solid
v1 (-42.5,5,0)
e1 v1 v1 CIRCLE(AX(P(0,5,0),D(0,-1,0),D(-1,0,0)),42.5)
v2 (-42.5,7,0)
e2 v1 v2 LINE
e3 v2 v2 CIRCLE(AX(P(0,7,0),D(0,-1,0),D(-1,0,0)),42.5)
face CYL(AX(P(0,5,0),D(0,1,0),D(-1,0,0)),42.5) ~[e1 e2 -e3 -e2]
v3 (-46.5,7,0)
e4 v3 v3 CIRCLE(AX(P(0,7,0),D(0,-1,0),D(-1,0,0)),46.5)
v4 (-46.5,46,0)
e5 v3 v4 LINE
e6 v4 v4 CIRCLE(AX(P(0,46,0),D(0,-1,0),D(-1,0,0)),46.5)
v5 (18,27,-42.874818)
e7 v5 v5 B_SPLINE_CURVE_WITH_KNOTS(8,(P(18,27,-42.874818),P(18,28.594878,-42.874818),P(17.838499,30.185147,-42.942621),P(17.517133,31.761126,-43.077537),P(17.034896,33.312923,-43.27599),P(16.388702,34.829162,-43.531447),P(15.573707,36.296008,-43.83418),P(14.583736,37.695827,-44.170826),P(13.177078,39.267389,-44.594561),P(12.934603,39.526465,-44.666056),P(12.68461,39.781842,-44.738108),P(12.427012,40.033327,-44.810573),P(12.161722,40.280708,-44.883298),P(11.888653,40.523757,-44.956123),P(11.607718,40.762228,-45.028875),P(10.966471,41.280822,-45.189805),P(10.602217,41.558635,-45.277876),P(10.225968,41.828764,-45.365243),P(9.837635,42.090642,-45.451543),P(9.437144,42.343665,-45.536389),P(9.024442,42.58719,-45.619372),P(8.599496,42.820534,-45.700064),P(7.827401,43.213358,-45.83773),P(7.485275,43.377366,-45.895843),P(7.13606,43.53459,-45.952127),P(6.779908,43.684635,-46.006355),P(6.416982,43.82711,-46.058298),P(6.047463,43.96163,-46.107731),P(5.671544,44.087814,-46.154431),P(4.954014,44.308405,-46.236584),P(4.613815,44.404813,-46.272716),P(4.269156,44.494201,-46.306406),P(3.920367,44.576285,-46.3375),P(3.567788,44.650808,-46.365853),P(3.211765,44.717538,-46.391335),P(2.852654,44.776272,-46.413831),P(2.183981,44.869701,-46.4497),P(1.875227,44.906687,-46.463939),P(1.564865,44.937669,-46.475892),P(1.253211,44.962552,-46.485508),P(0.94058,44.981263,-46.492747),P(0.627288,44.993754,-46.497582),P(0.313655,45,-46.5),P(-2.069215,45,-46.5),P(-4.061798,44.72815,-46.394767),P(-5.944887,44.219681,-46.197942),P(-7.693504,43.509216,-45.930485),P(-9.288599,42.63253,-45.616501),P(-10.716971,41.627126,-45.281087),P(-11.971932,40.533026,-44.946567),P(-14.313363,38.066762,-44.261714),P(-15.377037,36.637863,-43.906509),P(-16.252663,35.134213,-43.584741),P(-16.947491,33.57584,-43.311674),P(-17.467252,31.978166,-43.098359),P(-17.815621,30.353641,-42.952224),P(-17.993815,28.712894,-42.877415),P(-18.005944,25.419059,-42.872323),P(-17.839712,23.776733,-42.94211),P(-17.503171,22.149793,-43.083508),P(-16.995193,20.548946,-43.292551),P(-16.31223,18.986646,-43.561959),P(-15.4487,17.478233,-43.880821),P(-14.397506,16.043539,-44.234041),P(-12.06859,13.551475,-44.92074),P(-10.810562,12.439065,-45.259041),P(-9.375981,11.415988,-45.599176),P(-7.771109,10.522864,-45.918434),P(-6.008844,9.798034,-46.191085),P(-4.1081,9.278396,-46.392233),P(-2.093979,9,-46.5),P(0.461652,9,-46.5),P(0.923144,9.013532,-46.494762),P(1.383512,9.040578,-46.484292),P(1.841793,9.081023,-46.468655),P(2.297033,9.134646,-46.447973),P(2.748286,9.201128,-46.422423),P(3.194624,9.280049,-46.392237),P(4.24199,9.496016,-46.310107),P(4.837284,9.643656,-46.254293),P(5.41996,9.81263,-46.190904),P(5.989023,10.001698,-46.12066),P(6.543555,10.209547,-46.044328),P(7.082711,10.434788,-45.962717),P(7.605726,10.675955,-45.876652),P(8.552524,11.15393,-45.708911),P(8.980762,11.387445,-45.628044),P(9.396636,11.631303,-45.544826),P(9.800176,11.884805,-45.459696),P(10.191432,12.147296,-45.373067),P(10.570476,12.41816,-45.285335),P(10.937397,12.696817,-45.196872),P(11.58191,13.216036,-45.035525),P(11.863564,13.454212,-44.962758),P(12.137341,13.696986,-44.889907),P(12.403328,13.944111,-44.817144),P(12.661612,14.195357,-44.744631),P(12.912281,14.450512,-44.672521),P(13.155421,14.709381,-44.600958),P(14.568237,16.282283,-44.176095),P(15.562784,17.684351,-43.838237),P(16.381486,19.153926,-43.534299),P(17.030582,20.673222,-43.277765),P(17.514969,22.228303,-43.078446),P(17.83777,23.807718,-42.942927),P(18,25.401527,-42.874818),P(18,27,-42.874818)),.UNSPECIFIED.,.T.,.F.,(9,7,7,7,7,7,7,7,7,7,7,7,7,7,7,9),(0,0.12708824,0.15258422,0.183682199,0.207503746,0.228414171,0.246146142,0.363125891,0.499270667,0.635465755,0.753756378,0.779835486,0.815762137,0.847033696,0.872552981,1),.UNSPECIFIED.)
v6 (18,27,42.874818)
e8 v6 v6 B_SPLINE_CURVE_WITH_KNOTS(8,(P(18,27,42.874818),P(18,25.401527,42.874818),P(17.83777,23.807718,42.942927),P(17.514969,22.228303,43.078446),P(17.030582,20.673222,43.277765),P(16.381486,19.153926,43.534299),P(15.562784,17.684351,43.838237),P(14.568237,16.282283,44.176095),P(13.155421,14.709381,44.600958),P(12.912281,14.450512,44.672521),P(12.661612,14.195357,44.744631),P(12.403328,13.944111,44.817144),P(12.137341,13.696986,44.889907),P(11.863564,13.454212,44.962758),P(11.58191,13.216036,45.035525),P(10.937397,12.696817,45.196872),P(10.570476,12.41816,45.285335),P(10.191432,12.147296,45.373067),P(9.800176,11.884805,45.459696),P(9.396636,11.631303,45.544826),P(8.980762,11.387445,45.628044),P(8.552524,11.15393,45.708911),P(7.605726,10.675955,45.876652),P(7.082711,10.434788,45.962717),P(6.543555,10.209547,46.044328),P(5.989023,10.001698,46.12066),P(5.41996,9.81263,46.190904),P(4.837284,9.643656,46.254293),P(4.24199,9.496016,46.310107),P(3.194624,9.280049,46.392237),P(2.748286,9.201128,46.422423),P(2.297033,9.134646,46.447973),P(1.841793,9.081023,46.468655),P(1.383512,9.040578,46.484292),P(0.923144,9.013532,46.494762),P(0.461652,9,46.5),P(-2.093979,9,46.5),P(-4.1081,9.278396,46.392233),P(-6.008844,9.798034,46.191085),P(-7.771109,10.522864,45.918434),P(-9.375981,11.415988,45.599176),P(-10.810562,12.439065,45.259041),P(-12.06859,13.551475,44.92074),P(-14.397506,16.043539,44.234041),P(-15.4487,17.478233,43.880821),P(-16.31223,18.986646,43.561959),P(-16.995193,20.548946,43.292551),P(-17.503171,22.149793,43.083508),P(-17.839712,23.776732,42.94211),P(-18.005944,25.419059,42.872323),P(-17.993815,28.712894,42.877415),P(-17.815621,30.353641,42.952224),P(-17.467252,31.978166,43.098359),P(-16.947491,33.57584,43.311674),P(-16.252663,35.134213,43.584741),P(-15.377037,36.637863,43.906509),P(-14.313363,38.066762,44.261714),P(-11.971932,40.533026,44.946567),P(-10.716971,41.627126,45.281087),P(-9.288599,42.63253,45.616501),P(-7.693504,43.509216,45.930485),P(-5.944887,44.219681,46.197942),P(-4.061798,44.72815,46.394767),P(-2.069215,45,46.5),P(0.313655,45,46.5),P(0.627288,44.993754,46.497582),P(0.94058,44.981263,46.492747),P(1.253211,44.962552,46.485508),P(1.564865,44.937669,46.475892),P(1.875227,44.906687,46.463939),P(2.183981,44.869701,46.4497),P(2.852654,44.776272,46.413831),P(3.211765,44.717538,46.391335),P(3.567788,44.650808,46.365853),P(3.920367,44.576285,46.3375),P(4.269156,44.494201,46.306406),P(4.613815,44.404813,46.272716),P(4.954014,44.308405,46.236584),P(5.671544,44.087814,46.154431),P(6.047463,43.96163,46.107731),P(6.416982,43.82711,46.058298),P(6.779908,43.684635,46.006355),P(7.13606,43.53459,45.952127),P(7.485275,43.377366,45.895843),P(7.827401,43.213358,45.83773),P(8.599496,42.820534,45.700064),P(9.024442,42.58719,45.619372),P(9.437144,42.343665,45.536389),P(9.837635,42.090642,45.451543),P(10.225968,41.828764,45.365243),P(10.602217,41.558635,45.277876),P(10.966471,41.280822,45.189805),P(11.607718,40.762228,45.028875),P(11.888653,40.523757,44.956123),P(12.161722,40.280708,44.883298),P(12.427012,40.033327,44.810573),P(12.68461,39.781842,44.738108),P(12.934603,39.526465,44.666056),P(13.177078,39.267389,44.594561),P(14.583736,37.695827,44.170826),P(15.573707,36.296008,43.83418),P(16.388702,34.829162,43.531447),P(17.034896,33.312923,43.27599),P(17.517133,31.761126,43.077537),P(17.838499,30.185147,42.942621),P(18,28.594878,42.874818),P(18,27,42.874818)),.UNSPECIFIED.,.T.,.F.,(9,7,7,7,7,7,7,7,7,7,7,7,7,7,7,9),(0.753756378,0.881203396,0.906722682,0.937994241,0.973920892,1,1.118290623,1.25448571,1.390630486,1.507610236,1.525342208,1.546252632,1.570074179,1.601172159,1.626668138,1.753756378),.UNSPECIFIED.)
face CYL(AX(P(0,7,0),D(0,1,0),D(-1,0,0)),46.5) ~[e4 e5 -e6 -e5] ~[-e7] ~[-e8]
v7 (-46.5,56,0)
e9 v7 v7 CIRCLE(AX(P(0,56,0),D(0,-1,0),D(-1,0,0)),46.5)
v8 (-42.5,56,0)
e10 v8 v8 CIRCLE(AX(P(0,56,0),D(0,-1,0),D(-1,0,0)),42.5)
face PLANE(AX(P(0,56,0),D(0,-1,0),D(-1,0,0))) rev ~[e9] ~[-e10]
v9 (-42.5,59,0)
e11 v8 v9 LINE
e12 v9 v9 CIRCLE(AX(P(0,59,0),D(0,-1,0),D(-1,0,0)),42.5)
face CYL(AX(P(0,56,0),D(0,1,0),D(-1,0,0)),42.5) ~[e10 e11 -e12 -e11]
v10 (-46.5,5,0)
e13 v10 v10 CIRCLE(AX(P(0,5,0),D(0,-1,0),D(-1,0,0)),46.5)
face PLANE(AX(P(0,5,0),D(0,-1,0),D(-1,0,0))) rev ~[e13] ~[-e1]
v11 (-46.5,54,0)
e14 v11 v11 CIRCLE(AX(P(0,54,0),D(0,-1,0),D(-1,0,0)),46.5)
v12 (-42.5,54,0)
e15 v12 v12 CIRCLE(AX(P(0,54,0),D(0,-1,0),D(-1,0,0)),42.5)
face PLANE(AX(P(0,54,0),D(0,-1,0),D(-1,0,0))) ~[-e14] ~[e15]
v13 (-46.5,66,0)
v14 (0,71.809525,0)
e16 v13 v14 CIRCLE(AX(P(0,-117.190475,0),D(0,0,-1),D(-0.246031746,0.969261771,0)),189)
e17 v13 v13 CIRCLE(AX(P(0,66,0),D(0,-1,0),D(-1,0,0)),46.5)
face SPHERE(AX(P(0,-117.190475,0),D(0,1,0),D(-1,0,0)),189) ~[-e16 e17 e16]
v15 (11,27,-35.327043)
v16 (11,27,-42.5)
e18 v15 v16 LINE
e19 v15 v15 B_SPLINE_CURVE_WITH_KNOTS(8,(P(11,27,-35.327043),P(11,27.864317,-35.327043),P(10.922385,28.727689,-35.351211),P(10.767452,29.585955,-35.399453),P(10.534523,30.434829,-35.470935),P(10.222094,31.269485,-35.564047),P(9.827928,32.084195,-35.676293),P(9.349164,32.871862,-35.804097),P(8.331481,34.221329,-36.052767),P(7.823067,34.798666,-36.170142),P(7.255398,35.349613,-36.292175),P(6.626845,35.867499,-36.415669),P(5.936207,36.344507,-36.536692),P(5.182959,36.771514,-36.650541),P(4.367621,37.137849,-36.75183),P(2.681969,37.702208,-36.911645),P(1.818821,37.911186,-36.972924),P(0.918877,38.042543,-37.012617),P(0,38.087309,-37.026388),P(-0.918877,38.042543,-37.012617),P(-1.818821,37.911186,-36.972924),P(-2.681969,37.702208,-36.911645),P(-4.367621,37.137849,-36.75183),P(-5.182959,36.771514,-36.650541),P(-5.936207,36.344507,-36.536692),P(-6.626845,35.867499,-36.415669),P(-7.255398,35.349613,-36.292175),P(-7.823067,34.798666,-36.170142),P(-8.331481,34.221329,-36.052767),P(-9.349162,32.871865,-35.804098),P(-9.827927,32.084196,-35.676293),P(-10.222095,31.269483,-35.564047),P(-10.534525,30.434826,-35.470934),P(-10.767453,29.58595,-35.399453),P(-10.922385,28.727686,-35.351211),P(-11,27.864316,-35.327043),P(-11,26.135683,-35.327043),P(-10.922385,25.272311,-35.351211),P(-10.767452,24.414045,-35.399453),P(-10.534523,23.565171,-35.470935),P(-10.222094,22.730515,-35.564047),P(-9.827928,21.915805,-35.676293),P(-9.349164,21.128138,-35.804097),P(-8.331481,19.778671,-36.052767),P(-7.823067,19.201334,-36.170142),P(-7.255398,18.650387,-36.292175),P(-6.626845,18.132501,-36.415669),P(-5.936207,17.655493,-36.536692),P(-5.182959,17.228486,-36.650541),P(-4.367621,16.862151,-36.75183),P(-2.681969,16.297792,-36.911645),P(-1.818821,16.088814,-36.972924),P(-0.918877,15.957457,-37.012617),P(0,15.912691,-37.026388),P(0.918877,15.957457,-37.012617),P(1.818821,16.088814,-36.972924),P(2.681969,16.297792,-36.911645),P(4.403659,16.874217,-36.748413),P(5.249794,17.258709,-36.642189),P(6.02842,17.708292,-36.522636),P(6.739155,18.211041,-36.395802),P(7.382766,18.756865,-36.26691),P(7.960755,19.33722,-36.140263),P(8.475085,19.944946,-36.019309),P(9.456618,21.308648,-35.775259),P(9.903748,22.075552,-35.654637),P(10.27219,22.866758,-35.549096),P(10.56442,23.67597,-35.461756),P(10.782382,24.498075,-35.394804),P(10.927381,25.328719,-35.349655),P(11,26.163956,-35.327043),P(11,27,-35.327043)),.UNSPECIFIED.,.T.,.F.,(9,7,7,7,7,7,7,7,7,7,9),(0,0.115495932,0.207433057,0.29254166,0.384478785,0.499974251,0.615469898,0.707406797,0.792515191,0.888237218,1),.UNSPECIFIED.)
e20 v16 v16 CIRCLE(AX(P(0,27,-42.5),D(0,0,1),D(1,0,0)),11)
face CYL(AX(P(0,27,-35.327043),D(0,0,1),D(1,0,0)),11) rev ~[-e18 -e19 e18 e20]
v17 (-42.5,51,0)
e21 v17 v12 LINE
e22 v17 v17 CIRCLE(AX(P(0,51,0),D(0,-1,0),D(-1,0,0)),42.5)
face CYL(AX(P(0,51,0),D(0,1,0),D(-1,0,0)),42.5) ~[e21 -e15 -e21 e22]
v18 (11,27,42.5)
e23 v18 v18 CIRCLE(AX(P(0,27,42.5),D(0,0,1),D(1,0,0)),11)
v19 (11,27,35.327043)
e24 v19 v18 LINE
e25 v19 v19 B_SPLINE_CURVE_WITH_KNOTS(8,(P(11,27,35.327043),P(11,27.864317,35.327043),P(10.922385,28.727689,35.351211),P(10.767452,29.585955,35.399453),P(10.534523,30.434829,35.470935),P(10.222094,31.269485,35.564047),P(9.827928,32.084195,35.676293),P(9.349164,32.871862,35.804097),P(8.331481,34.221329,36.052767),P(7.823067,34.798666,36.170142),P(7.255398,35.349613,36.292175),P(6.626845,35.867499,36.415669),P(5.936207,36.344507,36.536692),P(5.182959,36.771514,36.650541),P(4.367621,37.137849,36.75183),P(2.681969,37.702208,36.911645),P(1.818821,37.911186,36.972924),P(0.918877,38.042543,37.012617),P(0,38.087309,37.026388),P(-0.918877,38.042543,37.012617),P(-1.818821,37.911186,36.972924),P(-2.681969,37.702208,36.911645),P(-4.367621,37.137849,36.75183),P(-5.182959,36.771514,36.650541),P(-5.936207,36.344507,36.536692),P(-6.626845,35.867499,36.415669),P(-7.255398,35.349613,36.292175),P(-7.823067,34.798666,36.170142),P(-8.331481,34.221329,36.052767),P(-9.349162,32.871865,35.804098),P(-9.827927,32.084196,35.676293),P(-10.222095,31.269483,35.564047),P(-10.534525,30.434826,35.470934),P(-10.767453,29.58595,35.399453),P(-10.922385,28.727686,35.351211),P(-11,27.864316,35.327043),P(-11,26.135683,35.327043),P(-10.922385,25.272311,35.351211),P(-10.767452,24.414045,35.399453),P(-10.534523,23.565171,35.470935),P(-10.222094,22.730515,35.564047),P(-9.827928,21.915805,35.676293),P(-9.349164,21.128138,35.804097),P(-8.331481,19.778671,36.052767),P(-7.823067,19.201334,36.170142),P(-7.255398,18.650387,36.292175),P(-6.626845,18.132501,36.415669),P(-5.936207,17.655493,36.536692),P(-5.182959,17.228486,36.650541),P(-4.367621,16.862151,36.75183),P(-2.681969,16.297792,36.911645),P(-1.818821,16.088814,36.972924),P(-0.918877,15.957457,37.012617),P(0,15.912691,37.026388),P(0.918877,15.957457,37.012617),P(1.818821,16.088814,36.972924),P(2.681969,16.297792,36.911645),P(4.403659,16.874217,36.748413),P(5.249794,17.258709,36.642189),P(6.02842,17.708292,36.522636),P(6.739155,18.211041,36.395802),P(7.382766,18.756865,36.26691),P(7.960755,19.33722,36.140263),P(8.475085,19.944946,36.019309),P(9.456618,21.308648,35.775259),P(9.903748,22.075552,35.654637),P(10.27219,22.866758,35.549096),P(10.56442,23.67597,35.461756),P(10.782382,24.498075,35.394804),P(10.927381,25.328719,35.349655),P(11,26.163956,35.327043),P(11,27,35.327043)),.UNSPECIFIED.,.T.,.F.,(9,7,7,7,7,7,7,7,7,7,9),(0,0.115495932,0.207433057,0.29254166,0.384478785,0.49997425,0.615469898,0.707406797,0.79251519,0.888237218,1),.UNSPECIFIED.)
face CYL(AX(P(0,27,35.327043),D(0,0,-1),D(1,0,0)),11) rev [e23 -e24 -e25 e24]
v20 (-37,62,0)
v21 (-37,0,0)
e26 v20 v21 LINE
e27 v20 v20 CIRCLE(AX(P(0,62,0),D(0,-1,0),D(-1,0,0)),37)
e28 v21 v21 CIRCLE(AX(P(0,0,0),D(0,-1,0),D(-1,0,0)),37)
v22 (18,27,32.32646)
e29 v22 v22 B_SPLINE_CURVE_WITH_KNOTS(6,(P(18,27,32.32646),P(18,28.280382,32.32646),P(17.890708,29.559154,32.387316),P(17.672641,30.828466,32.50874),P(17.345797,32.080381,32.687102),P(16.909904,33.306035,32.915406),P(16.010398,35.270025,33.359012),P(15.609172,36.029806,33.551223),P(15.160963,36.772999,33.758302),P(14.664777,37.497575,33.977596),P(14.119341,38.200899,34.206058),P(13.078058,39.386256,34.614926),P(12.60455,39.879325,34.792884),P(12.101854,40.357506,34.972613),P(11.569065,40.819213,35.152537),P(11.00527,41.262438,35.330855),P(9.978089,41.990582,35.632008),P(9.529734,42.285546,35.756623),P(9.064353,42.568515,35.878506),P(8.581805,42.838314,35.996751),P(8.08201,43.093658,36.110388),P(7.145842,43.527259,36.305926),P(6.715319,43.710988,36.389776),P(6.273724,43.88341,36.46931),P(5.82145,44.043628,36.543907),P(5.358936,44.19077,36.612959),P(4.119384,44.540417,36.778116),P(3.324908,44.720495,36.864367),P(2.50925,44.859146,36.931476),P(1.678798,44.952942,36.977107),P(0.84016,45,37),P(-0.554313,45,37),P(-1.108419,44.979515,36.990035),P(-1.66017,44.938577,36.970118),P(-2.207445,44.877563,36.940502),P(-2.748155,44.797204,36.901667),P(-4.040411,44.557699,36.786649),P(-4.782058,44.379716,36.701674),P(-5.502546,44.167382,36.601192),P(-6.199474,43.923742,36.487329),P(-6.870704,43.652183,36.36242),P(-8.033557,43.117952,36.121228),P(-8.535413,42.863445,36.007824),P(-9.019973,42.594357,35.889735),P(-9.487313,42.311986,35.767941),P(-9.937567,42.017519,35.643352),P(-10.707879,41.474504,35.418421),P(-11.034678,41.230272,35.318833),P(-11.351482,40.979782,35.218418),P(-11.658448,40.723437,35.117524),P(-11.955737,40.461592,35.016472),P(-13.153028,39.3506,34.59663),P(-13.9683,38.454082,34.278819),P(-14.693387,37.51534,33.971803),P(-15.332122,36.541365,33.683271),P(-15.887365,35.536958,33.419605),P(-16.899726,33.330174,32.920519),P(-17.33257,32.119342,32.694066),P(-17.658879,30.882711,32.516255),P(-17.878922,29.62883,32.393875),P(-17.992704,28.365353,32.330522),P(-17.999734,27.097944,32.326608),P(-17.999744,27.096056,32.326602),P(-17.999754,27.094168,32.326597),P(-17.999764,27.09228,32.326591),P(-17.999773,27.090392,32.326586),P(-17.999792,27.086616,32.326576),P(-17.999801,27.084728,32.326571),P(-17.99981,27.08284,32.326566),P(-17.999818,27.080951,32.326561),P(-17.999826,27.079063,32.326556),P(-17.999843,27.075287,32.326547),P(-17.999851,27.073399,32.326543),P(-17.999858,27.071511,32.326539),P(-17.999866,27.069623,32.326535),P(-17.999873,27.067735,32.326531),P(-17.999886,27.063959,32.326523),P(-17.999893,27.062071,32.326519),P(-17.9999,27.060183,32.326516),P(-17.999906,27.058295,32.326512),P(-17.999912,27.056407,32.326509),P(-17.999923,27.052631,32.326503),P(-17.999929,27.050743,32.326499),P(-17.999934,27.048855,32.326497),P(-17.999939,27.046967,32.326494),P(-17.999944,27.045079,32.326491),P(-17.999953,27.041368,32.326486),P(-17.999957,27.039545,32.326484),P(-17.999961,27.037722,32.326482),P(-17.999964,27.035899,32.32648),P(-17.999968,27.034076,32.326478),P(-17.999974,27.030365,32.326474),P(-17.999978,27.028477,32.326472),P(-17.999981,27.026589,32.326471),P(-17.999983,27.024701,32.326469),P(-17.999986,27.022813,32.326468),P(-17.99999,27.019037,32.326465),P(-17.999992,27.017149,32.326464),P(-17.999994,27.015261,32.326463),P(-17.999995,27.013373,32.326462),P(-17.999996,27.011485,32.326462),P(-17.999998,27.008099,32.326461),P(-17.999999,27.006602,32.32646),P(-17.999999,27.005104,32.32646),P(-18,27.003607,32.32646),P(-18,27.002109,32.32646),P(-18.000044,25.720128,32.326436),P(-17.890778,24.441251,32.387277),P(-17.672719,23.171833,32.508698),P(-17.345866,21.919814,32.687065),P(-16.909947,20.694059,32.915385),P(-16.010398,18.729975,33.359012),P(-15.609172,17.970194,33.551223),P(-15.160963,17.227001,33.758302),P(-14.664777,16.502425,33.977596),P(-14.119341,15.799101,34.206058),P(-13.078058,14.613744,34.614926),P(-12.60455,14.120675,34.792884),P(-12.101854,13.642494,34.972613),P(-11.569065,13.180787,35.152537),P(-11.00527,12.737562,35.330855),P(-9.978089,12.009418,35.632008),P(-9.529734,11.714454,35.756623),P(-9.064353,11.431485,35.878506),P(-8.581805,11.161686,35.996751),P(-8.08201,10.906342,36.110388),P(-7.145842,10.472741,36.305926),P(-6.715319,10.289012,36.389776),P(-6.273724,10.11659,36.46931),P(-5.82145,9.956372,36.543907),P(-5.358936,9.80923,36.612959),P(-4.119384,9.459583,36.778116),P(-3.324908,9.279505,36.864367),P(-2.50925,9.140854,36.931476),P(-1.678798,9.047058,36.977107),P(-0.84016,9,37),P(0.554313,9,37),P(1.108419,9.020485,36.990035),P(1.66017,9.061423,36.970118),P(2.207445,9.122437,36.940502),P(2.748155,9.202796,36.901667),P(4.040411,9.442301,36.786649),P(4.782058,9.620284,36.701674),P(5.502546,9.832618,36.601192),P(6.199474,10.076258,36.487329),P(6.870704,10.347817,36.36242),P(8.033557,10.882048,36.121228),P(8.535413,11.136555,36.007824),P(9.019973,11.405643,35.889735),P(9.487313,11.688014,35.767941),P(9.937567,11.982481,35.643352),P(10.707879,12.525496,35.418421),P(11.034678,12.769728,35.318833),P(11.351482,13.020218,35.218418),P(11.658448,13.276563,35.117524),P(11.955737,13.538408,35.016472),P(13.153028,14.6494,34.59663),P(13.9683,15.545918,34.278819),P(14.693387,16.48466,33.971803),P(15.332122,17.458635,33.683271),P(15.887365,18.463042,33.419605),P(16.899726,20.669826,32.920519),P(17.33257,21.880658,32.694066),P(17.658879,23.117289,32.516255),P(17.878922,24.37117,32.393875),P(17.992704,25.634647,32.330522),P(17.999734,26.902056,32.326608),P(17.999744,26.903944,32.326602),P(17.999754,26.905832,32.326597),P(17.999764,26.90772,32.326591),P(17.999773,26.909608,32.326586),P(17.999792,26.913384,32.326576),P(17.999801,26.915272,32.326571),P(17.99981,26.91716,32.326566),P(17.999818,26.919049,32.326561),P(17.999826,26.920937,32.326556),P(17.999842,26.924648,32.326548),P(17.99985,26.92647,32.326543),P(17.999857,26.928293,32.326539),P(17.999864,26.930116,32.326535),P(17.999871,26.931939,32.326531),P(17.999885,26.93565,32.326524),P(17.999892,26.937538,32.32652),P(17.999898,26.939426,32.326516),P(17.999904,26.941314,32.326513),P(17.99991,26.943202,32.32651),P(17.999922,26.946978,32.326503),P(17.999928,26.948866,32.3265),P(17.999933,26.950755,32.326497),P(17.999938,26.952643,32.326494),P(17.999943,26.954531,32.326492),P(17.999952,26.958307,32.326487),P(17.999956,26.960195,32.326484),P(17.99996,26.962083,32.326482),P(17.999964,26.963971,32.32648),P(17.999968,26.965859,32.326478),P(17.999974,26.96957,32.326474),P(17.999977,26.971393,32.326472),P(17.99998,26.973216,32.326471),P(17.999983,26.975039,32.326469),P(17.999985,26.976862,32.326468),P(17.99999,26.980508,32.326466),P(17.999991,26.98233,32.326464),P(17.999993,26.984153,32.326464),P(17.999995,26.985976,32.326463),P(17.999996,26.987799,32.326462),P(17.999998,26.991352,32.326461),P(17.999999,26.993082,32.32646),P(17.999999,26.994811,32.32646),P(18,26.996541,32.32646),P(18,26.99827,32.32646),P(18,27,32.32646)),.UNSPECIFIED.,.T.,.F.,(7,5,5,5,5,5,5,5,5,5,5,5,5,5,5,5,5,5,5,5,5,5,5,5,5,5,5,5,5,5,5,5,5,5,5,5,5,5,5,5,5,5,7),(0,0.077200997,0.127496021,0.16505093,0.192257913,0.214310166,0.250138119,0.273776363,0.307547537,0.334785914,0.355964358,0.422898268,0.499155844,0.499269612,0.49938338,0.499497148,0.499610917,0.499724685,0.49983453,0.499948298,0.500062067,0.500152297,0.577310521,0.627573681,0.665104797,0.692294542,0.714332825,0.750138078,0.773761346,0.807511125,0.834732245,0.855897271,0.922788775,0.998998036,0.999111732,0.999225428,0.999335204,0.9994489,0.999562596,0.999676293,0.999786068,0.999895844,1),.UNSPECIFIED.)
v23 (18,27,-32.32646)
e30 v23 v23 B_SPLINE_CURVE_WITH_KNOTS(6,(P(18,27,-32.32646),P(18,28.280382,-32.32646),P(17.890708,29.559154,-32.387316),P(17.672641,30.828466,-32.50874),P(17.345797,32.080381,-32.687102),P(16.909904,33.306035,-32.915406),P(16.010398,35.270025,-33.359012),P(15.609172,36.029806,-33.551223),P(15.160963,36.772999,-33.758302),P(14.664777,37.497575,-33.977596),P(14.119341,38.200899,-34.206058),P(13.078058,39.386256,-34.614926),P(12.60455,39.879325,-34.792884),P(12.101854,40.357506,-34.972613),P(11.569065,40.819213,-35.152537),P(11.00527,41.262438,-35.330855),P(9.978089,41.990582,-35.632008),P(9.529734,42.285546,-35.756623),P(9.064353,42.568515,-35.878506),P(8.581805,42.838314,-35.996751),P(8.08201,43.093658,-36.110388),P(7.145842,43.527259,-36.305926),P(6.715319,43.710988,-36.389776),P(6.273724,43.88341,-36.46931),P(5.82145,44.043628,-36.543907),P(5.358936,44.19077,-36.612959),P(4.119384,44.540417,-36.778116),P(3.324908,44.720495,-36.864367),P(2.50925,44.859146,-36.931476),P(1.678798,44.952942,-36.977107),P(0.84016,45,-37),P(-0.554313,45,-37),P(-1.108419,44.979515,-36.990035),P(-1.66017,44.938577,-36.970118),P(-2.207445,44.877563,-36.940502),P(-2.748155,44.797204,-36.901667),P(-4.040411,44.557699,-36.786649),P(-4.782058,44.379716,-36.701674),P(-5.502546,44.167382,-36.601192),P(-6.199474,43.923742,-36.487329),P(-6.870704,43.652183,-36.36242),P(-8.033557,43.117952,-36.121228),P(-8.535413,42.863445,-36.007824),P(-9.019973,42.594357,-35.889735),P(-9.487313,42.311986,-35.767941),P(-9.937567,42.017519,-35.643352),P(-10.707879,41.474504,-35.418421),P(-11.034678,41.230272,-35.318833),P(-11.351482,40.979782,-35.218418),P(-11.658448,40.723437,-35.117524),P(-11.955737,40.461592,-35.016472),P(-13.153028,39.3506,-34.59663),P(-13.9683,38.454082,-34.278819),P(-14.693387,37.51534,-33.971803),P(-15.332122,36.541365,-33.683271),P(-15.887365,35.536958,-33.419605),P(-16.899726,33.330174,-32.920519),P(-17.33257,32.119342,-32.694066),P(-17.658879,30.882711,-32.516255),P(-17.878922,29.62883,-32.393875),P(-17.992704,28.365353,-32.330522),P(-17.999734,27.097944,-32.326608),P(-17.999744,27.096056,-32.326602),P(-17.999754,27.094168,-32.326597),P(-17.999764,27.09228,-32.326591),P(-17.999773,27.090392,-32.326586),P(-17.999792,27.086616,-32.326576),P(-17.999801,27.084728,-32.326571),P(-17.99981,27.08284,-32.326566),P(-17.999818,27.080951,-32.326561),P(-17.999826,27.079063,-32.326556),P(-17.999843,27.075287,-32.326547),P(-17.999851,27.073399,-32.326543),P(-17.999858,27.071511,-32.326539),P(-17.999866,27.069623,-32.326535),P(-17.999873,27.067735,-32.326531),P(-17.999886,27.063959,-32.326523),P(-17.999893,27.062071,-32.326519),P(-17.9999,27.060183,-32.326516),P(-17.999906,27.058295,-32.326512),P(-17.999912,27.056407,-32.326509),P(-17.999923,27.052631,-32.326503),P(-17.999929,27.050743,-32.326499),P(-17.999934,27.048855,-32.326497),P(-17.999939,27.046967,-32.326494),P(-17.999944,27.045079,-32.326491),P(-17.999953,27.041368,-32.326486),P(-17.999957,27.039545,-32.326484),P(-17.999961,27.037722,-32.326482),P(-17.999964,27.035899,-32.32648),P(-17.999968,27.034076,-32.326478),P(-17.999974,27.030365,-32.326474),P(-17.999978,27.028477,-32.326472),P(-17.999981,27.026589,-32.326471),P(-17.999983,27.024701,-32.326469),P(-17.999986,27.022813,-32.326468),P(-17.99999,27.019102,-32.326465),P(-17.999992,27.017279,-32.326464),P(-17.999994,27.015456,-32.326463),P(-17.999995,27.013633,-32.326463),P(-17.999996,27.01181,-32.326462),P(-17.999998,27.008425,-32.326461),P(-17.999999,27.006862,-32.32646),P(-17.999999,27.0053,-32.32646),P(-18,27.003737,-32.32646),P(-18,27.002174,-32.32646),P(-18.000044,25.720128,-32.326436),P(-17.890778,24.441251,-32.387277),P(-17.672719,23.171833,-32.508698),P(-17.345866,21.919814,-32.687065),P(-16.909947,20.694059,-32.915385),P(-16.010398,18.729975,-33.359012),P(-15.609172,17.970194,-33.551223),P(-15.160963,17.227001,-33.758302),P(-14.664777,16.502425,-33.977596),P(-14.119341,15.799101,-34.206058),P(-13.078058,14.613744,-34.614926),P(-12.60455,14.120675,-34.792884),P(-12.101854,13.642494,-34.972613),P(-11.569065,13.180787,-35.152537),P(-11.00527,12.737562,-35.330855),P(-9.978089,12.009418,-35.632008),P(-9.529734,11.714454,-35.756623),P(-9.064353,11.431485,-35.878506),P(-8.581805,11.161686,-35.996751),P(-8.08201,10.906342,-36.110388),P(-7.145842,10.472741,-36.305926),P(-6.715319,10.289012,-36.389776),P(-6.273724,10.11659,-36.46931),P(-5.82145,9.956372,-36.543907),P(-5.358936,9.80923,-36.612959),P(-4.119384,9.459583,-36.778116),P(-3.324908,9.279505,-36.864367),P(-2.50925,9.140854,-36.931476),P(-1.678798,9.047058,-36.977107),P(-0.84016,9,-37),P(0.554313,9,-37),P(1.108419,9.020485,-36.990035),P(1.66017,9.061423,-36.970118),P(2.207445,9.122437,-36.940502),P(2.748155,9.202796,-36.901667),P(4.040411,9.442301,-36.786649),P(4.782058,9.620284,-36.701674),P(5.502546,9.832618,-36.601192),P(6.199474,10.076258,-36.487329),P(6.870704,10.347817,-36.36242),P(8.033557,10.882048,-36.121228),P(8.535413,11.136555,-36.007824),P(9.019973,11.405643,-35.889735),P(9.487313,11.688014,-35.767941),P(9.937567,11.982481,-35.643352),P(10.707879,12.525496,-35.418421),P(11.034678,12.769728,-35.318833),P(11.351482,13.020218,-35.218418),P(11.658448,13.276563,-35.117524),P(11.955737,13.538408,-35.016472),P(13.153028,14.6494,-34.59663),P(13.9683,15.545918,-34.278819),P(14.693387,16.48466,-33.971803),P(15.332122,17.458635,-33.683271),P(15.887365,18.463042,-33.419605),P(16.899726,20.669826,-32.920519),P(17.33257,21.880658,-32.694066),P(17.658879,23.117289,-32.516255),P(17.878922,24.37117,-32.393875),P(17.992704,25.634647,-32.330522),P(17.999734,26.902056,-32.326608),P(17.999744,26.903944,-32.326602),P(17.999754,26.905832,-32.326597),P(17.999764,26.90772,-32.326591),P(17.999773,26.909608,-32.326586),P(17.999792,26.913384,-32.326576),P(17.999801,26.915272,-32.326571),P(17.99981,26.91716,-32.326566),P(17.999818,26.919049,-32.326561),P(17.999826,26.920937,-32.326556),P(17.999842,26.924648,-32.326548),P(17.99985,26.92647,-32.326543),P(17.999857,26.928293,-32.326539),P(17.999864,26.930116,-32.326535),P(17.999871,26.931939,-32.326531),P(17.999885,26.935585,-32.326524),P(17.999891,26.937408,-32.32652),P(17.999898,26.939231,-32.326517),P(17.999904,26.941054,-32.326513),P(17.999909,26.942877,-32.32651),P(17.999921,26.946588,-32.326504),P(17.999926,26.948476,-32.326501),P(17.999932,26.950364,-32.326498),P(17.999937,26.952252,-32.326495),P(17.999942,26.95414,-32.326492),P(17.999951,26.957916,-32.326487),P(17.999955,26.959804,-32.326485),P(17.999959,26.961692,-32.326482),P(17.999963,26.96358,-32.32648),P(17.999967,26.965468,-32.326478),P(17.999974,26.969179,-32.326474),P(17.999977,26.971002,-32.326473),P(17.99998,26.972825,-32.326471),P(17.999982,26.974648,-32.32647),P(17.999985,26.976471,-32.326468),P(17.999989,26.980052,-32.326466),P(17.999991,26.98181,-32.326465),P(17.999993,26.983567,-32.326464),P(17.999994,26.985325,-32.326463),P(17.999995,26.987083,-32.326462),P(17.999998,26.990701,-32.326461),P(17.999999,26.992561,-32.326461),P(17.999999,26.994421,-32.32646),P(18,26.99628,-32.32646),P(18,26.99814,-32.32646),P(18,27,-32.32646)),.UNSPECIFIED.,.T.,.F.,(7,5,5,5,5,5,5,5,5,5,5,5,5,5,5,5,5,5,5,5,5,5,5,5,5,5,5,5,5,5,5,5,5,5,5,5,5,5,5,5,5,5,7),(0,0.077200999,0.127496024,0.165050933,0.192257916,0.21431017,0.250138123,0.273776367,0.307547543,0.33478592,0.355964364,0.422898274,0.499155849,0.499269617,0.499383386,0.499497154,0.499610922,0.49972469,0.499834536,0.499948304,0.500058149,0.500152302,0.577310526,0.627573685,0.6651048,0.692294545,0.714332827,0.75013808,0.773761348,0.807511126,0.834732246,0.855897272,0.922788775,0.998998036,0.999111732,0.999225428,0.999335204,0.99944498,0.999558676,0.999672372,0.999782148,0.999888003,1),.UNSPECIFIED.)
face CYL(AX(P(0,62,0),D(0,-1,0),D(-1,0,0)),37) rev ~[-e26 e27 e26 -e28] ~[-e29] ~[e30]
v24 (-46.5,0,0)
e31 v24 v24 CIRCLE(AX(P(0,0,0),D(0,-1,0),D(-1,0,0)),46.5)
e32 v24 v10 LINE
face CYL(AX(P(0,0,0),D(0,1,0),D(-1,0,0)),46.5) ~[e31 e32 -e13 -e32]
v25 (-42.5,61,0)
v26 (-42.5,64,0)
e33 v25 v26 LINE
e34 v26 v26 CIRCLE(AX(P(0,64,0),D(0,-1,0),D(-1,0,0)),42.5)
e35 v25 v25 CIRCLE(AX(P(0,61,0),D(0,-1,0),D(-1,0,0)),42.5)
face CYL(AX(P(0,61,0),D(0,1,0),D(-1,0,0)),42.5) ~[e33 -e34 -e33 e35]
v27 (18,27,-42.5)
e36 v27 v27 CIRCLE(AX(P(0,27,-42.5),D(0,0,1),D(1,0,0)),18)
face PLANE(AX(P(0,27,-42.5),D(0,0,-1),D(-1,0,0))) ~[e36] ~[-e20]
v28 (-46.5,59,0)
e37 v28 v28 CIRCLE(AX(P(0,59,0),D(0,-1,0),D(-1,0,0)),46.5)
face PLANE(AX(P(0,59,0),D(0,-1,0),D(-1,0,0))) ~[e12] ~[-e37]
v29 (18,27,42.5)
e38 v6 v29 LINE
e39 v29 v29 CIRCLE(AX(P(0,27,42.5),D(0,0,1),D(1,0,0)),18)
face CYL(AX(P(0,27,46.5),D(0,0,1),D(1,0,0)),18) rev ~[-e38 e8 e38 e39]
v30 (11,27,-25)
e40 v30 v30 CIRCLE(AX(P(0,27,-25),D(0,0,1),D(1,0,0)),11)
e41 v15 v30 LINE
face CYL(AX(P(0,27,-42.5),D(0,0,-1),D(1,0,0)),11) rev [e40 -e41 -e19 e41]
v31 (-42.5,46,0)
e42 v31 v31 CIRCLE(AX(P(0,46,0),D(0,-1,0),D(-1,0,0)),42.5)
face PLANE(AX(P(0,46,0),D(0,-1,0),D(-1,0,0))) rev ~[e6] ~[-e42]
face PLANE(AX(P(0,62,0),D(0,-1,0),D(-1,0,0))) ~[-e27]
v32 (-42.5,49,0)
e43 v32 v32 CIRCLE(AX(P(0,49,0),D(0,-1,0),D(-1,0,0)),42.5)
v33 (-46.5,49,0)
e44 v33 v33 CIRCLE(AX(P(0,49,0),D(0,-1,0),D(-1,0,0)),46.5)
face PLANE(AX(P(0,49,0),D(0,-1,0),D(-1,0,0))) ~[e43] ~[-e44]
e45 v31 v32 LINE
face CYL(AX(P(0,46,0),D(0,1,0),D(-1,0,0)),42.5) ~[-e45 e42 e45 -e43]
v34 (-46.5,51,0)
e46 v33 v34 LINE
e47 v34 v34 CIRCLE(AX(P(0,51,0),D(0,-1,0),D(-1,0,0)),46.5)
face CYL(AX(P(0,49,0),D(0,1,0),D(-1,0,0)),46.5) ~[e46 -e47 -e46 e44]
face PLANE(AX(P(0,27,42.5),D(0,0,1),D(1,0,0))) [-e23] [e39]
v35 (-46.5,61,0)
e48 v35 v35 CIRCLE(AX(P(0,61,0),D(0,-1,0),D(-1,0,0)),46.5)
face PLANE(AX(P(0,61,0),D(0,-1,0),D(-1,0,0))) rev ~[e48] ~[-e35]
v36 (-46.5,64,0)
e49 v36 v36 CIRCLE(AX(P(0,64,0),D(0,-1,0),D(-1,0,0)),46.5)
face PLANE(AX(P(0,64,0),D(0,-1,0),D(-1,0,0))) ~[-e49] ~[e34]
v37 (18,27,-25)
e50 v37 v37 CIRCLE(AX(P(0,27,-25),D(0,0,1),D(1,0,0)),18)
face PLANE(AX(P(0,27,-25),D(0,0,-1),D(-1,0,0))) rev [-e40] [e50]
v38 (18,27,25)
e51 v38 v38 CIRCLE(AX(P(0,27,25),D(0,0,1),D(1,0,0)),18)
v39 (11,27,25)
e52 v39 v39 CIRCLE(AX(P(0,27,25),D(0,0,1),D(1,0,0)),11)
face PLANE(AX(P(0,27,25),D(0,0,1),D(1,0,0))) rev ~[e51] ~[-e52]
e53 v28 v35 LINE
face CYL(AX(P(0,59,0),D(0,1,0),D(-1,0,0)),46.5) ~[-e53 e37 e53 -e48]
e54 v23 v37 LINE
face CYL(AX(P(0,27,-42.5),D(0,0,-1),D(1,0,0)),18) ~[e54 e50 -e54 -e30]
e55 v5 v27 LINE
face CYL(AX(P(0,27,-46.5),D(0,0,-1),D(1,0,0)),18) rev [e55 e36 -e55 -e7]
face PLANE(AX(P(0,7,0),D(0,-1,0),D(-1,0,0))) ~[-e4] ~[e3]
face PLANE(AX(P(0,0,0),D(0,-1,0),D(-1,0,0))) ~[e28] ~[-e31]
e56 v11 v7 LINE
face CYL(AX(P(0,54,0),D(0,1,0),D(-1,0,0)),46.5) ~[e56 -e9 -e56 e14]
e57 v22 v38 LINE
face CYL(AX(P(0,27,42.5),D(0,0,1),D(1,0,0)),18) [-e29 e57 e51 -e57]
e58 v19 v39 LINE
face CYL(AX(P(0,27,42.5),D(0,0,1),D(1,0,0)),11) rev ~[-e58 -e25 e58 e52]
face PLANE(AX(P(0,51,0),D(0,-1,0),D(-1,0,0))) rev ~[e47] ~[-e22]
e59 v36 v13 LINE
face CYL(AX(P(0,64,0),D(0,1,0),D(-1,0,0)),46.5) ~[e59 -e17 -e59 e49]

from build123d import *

# Parameters (mm, degrees)
SKETCH6_R           = 18
CUT_EXTRUDE11_DEPTH = 4
CUT_EXTRUDE12_START = -7.172957
SKETCH7_R           = 11
CUT_EXTRUDE12_DEPTH = 7.172957
SKETCH11_R          = 18
SKETCH11_R_2        = 11
BOSS_EXTRUDE1_DEPTH = 17.5


with BuildPart() as part:
    # Sketch1 → Revolve3 (revolve)
    with BuildSketch(Plane.XY):
        with BuildLine():
            ThreePointArc((-46.5, 66), (-23.430752148, 70.351520264), (0, 71.809525357))
            Line((0, 71.809525357), (0, 62))
            Line((0, 62), (-37, 62))
            Line((-37, 62), (-37, 0))
            Line((-37, 0), (-46.5, 0))
            Line((-46.5, 0), (-46.5, 5))
            Line((-46.5, 5), (-42.5, 5))
            Line((-42.5, 5), (-42.5, 7))
            Line((-42.5, 7), (-46.5, 7))
            Line((-46.5, 7), (-46.5, 46))
            Line((-46.5, 46), (-42.5, 46))
            Line((-42.5, 46), (-42.5, 49))
            Line((-42.5, 49), (-46.5, 49))
            Line((-46.5, 49), (-46.5, 51))
            Line((-46.5, 51), (-42.5, 51))
            Line((-42.5, 51), (-42.5, 54))
            Line((-42.5, 54), (-46.5, 54))
            Line((-46.5, 54), (-46.5, 56))
            Line((-46.5, 56), (-42.5, 56))
            Line((-42.5, 56), (-42.5, 59))
            Line((-42.5, 59), (-46.5, 59))
            Line((-46.5, 59), (-46.5, 61))
            Line((-46.5, 61), (-42.5, 61))
            Line((-42.5, 61), (-42.5, 64))
            Line((-42.5, 64), (-46.5, 64))
            Line((-46.5, 64), (-46.5, 66))
        make_face()
    revolve(axis=Axis((0, 71.809525357, 0), (0, -1, 0)))

    # Sketch6 → Cut-Extrude11 (cut)
    with BuildSketch(Plane.XY.offset(46.5)):
        with Locations((0, 27)):
            Circle(SKETCH6_R)
    cut_extrude11 = extrude(amount=-CUT_EXTRUDE11_DEPTH, mode=Mode.SUBTRACT)

    # Sketch7 → Cut-Extrude12 (cut)
    with BuildSketch(Plane.XY.offset(42.5).offset(CUT_EXTRUDE12_START)):
        with Locations((0, 27)):
            Circle(SKETCH7_R)
    cut_extrude12 = extrude(amount=CUT_EXTRUDE12_DEPTH, mode=Mode.SUBTRACT)

    # Sketch11 → Boss-Extrude1 (add)
    with BuildSketch(Plane.XY.offset(42.5)):
        with Locations((0, 27)):
            Circle(SKETCH11_R)
        with Locations((0, 27)):
            Circle(SKETCH11_R_2, mode=Mode.SUBTRACT)
    boss_extrude1 = extrude(amount=-BOSS_EXTRUDE1_DEPTH)

    # Mirror1: Cut-Extrude11, Cut-Extrude12, Boss-Extrude1 across plane
    add(cut_extrude11.mirror(Plane.XY), mode=Mode.SUBTRACT)
    add(cut_extrude12.mirror(Plane.XY), mode=Mode.SUBTRACT)
    add(boss_extrude1.mirror(Plane.XY))


solid = part.part
